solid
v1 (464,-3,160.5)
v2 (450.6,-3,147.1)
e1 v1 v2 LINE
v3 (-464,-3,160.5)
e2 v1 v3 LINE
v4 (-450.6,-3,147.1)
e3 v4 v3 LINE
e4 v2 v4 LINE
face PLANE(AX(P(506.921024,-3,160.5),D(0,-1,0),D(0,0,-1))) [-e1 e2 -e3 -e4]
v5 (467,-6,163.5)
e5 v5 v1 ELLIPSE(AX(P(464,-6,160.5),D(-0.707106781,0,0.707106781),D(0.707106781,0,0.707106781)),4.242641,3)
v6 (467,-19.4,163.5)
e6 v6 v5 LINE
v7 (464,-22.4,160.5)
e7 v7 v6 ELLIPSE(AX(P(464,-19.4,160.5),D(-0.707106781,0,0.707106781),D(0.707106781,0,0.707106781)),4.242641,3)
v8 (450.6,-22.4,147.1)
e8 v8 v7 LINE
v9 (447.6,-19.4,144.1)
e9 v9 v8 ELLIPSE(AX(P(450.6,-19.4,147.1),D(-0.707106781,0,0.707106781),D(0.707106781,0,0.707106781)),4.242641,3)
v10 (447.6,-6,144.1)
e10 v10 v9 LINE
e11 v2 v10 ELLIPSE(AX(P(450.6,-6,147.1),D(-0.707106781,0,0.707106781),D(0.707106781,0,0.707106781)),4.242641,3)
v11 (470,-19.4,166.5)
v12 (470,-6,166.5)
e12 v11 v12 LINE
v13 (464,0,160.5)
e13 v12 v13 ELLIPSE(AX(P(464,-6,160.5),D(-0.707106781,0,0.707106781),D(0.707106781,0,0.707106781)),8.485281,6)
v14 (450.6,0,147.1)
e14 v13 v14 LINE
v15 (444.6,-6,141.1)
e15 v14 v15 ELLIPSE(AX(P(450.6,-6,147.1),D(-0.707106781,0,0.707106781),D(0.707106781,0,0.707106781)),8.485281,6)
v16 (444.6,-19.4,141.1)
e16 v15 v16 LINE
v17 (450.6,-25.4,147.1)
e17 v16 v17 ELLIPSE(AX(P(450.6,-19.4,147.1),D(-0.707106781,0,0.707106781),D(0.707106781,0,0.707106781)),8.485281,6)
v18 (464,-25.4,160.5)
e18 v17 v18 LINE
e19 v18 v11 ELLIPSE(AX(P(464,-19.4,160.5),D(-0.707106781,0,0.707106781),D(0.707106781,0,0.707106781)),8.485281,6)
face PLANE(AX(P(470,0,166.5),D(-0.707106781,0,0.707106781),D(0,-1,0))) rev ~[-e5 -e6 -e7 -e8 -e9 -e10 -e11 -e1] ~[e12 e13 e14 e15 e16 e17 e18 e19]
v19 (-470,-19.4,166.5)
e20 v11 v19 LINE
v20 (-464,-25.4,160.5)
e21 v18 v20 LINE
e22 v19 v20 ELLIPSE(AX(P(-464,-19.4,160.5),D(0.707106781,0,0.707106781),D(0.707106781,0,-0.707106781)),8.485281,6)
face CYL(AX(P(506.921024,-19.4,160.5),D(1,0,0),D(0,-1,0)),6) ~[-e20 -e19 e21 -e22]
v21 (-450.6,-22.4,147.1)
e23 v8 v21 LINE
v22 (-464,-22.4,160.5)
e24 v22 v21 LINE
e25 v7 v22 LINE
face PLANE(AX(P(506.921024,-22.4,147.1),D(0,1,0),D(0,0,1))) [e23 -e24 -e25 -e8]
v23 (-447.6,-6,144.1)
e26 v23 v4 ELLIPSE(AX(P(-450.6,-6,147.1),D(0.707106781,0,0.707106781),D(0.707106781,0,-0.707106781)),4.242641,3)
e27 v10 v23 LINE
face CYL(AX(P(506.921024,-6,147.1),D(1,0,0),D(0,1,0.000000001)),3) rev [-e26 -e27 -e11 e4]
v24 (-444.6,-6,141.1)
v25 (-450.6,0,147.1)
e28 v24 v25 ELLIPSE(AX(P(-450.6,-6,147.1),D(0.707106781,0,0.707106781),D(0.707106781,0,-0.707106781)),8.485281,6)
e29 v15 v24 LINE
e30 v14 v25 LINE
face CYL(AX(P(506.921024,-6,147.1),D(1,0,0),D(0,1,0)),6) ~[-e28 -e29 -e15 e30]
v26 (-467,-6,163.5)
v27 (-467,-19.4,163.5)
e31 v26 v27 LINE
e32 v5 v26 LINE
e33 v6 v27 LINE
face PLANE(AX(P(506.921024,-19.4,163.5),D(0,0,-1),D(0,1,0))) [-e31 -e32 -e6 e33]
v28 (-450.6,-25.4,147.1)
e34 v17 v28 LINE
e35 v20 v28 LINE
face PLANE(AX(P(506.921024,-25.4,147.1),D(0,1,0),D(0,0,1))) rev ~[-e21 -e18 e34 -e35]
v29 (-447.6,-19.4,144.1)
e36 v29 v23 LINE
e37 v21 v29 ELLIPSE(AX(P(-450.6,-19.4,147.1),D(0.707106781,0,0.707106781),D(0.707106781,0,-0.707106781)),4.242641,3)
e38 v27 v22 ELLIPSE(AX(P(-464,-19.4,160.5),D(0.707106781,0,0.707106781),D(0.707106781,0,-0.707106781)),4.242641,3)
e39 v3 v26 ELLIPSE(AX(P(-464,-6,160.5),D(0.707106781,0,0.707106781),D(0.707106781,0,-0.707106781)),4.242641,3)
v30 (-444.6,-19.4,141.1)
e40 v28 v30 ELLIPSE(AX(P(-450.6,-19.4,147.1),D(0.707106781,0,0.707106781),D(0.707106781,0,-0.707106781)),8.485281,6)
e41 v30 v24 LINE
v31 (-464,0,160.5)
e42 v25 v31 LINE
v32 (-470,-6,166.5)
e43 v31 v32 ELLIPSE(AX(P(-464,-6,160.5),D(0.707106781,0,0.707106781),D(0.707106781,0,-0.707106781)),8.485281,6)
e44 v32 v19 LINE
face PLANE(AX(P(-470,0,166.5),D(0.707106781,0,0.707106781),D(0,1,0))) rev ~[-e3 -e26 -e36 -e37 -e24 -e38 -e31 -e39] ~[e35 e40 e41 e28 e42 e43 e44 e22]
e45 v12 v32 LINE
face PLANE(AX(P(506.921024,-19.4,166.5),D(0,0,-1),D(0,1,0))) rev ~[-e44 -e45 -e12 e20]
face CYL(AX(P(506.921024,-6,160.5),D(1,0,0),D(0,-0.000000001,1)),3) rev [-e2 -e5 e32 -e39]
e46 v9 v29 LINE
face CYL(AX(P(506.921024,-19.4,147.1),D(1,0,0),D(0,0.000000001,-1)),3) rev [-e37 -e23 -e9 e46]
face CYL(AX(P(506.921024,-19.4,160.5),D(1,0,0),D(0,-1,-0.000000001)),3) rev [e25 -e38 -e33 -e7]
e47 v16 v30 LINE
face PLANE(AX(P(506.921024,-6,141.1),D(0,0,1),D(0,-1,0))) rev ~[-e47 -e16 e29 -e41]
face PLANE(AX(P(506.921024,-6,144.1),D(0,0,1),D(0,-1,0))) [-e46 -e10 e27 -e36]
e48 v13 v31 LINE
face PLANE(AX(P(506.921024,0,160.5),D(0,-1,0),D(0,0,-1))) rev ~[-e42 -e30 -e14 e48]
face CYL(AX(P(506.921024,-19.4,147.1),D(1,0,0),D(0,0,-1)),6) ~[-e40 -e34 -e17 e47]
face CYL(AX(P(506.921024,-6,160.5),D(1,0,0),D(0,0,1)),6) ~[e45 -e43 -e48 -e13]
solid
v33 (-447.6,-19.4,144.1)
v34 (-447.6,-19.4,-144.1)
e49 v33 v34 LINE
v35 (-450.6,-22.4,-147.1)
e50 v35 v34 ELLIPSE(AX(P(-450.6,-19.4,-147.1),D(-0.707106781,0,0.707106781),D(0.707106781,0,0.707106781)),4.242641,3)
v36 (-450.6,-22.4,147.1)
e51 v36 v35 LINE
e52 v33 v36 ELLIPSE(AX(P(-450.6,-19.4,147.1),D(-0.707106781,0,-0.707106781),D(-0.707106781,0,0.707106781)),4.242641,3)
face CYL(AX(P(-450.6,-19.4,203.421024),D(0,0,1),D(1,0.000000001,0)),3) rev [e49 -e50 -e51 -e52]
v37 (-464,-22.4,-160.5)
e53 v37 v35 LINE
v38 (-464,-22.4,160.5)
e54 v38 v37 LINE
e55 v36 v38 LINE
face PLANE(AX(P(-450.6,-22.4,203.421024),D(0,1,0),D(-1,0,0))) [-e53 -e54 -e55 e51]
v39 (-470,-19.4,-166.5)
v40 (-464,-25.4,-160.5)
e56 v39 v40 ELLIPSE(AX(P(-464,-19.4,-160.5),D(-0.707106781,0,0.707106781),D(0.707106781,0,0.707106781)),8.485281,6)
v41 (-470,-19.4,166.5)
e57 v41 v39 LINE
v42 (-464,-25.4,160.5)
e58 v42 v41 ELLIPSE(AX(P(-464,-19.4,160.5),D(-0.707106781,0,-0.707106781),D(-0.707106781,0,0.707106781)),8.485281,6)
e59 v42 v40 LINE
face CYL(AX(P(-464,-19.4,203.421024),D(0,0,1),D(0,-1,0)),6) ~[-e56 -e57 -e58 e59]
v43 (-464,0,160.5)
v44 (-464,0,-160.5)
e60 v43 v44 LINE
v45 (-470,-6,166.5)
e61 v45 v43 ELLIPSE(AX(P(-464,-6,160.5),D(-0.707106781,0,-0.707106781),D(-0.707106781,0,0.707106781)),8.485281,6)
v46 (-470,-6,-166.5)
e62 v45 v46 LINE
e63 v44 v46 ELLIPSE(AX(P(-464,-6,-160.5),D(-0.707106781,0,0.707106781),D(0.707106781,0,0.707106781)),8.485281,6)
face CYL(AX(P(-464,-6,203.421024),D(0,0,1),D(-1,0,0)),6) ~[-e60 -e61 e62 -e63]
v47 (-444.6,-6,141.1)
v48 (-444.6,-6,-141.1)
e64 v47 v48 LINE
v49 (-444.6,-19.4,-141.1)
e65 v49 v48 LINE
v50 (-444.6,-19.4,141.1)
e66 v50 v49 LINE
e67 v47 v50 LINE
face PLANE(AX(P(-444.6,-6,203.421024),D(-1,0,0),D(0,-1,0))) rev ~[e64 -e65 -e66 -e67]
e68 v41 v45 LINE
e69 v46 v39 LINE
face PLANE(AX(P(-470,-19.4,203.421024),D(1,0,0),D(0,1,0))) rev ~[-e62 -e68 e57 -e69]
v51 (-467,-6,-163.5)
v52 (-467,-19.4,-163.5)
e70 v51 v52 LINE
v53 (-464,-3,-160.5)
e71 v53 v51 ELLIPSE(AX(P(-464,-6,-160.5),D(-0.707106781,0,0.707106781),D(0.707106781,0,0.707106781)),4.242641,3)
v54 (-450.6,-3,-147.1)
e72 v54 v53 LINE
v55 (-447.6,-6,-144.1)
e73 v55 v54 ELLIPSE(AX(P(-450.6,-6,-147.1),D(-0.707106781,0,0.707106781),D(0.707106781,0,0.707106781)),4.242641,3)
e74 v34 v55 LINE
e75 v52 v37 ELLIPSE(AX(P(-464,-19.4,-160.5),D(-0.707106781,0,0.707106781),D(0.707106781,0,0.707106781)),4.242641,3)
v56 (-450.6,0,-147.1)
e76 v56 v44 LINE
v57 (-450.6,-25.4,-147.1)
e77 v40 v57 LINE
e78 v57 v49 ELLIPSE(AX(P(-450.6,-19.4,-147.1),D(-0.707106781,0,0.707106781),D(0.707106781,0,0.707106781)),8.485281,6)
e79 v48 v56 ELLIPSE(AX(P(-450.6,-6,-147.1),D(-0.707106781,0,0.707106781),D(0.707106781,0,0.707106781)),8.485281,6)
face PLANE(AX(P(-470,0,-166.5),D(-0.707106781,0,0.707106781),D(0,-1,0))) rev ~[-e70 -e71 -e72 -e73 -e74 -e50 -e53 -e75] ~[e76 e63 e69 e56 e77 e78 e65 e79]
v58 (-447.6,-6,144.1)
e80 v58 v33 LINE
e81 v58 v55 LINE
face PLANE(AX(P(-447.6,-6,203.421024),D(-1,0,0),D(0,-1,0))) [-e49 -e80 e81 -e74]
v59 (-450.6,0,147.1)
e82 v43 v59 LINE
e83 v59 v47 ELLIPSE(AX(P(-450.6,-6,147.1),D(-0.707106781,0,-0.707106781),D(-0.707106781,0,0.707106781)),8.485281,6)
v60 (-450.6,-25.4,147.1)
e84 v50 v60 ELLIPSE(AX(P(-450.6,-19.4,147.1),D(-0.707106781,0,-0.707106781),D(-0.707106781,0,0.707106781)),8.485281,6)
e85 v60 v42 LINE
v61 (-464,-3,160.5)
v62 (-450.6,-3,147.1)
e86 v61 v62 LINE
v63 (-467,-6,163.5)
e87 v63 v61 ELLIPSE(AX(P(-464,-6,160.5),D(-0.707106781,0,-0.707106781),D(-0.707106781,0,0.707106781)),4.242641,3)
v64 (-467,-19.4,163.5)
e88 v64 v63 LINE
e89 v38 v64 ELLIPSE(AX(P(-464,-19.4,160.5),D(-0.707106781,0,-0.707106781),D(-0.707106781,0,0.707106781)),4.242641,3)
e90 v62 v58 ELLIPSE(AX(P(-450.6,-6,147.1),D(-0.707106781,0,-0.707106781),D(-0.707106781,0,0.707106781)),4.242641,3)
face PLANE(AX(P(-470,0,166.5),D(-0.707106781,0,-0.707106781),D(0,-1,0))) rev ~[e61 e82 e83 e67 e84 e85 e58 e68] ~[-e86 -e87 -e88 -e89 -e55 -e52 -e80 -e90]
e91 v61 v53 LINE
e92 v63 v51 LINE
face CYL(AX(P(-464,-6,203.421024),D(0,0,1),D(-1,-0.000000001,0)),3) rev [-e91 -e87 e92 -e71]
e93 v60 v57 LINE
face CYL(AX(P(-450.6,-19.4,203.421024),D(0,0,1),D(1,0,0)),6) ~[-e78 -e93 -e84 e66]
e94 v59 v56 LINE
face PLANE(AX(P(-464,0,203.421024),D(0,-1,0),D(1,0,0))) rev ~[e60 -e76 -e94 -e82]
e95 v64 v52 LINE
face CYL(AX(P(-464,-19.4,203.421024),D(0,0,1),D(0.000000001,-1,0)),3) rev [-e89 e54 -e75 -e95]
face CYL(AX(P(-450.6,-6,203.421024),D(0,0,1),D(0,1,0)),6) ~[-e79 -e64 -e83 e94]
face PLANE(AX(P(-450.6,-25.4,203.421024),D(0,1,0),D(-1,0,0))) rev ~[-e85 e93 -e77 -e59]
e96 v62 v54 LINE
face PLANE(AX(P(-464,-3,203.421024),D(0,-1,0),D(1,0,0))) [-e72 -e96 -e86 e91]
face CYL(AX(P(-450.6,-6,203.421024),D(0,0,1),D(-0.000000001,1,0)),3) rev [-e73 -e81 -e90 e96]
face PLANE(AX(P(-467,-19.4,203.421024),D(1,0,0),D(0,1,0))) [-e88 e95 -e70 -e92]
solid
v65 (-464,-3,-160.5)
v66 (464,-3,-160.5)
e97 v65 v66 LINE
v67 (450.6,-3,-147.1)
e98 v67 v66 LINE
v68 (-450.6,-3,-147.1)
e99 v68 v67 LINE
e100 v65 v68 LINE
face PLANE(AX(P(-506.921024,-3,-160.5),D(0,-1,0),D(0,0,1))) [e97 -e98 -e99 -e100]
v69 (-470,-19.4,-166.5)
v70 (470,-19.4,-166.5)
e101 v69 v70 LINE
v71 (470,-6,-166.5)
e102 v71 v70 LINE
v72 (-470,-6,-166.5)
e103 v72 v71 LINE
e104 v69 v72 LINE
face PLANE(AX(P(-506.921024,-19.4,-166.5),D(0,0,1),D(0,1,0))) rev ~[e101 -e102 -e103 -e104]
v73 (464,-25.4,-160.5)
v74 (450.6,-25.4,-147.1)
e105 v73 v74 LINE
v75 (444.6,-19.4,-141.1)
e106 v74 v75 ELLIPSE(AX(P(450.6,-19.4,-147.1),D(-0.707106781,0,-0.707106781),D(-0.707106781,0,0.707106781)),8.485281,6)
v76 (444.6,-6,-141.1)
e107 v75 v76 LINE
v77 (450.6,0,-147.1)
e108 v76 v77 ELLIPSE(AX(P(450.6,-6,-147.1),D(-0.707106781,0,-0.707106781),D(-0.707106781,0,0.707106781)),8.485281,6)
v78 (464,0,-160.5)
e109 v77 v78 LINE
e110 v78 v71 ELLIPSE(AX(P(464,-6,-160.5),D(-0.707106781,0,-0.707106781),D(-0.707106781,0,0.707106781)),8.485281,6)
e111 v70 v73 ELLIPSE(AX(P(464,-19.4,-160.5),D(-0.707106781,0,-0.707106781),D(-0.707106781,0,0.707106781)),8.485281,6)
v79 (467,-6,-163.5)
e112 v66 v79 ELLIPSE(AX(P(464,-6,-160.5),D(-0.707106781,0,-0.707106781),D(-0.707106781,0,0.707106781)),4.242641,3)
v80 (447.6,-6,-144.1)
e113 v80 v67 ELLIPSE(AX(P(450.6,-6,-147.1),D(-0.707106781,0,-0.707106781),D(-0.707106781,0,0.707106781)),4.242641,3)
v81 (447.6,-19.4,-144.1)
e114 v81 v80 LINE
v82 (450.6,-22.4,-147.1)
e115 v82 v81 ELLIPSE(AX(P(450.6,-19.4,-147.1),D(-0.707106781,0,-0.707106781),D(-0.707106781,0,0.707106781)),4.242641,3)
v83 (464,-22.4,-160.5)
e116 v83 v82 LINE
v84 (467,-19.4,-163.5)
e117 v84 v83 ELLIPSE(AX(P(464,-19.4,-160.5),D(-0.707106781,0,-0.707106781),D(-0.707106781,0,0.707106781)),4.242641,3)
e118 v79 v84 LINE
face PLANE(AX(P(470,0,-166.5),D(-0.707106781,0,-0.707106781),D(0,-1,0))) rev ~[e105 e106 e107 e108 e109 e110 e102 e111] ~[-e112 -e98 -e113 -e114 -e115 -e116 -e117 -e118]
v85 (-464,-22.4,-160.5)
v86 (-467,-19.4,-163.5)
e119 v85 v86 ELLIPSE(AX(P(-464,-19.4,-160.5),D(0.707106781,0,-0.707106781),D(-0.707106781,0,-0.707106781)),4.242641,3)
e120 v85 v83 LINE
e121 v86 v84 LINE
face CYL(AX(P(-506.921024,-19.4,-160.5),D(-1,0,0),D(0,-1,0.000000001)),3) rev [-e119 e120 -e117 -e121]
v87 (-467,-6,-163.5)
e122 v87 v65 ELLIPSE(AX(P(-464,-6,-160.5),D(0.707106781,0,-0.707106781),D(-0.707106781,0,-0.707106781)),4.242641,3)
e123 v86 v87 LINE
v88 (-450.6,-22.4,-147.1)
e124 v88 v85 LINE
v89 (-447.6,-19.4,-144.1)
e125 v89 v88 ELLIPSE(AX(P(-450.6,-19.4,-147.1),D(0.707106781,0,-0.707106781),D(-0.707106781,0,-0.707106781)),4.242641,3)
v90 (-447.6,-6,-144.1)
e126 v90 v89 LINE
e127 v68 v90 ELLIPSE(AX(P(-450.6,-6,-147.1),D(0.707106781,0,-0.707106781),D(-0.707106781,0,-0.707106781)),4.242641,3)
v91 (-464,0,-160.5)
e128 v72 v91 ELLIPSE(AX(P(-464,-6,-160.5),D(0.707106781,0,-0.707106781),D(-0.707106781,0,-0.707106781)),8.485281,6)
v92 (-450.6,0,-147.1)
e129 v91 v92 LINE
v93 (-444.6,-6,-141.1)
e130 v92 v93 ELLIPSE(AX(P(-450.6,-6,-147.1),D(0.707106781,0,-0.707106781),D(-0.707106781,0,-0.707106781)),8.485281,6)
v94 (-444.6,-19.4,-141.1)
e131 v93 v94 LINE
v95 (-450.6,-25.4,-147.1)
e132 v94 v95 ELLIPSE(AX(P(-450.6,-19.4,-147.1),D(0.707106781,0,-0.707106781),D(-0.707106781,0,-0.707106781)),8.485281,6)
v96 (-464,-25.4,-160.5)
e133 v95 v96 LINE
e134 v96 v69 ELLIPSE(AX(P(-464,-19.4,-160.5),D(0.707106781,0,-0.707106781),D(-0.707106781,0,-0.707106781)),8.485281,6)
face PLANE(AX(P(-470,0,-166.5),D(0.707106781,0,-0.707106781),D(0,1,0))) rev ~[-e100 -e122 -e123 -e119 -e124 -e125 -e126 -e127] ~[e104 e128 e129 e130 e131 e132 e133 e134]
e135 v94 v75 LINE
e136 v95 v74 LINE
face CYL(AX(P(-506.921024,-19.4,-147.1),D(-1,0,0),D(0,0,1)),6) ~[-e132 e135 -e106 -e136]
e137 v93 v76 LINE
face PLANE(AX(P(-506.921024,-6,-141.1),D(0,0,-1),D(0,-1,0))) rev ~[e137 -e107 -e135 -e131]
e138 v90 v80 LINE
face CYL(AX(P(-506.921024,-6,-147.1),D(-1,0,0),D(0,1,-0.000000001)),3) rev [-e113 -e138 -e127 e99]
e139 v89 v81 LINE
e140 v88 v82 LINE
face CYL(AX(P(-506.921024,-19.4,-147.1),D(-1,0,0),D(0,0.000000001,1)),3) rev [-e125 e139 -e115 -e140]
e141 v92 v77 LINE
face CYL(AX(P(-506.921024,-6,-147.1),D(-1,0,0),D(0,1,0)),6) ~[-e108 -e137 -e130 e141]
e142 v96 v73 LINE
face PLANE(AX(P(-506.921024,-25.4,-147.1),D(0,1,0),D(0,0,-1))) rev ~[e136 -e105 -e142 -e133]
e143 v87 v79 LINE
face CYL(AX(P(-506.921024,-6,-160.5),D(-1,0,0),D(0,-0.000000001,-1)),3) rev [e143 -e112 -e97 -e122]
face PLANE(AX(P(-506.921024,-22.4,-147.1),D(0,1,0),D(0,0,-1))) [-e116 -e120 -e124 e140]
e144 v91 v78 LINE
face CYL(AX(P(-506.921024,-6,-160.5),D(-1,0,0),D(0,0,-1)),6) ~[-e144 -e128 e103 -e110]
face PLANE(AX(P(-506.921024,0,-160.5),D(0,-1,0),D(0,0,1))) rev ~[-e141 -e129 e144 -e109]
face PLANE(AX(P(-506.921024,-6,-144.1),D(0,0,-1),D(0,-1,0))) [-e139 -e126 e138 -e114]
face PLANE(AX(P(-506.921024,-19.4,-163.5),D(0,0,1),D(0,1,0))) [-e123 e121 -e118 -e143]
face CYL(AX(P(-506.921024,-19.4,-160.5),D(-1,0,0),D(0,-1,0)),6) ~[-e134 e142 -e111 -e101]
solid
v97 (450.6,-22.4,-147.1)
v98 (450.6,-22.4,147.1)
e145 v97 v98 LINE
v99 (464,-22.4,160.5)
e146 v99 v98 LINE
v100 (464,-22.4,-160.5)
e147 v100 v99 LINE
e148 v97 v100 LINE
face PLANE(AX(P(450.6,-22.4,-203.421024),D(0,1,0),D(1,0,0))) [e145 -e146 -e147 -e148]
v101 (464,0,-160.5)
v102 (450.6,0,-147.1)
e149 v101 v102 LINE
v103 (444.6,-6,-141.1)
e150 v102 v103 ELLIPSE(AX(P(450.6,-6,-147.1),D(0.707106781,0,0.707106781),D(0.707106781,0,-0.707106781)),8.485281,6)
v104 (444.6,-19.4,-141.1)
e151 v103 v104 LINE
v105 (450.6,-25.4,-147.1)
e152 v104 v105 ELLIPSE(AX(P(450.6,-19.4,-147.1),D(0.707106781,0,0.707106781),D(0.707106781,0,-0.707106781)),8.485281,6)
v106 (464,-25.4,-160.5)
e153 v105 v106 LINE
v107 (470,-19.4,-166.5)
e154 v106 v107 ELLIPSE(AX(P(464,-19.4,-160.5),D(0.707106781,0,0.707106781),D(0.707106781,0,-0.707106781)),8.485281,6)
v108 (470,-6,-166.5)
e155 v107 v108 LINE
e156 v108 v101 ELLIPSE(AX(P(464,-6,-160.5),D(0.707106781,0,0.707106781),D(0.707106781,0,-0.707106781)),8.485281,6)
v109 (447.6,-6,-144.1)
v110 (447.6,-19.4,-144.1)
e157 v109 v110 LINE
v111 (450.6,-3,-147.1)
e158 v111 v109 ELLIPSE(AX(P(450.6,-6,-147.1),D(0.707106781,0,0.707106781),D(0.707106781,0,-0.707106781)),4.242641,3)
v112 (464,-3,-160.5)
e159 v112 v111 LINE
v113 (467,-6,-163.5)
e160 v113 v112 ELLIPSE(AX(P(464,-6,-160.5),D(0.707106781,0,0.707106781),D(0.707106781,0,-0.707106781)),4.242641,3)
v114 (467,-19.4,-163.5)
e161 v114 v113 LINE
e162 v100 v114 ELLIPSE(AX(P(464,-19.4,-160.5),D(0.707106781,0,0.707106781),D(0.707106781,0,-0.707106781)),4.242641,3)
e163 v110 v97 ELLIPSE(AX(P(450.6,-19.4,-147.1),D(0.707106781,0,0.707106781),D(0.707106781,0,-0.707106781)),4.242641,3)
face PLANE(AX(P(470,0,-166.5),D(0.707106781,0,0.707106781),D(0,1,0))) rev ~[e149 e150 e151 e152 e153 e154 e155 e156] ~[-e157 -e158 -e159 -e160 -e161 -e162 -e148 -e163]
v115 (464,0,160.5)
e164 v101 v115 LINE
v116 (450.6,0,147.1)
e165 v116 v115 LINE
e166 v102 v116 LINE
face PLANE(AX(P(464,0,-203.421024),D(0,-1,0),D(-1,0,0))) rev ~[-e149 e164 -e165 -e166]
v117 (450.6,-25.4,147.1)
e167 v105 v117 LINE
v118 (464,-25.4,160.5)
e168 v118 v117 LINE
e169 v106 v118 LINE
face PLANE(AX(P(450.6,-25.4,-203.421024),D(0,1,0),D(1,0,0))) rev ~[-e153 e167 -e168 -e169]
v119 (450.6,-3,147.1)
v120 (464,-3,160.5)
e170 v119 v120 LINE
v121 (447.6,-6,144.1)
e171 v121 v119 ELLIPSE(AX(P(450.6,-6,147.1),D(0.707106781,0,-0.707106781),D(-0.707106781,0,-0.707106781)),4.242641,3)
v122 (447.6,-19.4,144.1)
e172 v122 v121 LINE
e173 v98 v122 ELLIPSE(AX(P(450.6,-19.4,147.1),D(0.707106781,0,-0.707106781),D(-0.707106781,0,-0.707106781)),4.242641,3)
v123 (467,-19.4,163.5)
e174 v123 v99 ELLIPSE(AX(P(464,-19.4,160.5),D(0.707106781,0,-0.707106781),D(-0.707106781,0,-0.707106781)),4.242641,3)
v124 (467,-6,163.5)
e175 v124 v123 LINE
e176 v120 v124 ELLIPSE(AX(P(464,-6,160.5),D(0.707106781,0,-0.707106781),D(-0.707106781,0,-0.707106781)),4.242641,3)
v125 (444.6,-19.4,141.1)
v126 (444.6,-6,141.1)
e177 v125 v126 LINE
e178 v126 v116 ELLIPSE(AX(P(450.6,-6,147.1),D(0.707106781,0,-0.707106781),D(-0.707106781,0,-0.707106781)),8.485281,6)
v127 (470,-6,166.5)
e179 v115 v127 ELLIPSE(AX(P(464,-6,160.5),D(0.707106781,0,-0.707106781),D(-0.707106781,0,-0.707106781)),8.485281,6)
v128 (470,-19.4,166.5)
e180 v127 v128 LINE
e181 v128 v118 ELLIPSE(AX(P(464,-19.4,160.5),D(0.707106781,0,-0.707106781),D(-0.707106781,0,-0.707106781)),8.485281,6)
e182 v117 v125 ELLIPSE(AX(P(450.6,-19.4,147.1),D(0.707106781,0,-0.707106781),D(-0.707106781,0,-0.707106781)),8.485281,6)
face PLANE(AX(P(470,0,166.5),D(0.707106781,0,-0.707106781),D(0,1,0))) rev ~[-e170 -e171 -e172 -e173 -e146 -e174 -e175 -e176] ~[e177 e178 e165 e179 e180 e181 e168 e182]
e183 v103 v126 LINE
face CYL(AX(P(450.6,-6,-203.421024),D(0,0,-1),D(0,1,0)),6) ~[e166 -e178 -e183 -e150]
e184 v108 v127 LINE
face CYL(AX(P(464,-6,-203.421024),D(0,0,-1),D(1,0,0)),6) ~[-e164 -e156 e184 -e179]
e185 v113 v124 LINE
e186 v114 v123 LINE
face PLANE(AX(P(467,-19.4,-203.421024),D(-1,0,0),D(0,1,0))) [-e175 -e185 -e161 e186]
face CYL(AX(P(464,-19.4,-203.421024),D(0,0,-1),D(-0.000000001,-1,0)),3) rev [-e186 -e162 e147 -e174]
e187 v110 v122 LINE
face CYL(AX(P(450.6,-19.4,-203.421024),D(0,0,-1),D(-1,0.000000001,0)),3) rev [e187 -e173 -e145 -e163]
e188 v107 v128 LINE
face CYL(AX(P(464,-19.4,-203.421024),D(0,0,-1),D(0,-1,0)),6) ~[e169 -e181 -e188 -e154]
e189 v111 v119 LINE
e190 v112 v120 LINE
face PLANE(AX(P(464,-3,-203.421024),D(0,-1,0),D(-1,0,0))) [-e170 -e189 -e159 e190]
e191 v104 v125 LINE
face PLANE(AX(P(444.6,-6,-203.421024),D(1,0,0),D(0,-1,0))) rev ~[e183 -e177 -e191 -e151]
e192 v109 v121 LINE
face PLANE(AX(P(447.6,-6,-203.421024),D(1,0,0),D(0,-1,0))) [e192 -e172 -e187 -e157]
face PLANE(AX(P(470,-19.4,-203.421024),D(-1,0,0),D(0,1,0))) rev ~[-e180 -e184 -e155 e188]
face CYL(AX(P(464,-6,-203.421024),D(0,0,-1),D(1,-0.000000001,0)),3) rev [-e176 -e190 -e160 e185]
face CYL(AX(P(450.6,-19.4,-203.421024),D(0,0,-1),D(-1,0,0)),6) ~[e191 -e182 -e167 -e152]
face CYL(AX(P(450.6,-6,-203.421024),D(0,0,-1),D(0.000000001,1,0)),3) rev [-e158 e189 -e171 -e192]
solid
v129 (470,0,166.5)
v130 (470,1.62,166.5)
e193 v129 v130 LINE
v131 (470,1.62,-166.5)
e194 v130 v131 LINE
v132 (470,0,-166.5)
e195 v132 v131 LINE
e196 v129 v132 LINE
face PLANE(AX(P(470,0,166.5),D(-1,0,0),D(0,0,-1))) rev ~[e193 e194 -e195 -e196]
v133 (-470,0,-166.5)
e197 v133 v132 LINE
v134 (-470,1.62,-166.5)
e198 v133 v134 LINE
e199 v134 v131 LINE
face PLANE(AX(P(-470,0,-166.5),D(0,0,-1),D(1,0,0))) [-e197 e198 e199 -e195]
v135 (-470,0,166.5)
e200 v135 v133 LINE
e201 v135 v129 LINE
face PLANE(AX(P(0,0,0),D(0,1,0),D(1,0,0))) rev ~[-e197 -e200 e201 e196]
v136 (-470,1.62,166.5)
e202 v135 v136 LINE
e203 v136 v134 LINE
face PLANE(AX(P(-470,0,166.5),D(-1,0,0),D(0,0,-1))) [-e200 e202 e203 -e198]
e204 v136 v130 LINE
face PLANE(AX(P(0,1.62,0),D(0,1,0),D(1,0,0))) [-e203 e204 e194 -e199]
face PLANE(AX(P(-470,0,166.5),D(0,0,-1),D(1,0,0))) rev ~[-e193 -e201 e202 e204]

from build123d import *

# Parameters (mm, degrees)
TUBO_CUADRADO_2_X_2_X_0_25_1_DEPTH      = 369.921024484
TUBO_CUADRADO_2_X_2_X_0_25_1_DEPTH_BACK = 36.921024484
TUBO_CUADRADO_2_X_2_X_0_25_1_2_DEPTH    = 1013.842048969
TUBO_CUADRADO_2_X_2_X_0_25_1_3_DEPTH    = 406.842048969
TUBO_CUADRADO_2_X_2_X_0_25_1_4_DEPTH    = 1013.842048969
CROQUIS3_W                              = 940
CROQUIS3_H                              = 333
SALIENTE_EXTRUIR2_DEPTH                 = 1.62


with BuildPart() as part:
    # Sketch1 → Tubo cuadrado 2 X 2 X 0.25(1) (new, two sides: drawn at the far end of the back side and taken through both)
    with BuildSketch(Plane(origin=(457.3, -12.7, -166.5), x_dir=(1, 0, 0), z_dir=(0, 0, 1)).offset(-TUBO_CUADRADO_2_X_2_X_0_25_1_DEPTH_BACK)):
        with BuildLine():
            Line((-6.7, -12.7), (6.7, -12.7))
            ThreePointArc((6.7, -12.7), (10.942640687, -10.942640687), (12.7, -6.7))
            Line((12.7, -6.7), (12.7, 6.7))
            ThreePointArc((12.7, 6.7), (10.942640687, 10.942640687), (6.7, 12.7))
            Line((6.7, 12.7), (-6.7, 12.7))
            ThreePointArc((-6.7, 12.7), (-10.942640687, 10.942640687), (-12.7, 6.7))
            Line((-12.7, 6.7), (-12.7, -6.7))
            ThreePointArc((-12.7, -6.7), (-10.942640687, -10.942640687), (-6.7, -12.7))
        make_face()
        with BuildLine():
            Line((-6.7, -9.7), (6.7, -9.7))
            ThreePointArc((6.7, -9.7), (8.821320344, -8.821320344), (9.7, -6.7))
            Line((9.7, -6.7), (9.7, 6.7))
            ThreePointArc((9.7, 6.7), (8.821320344, 8.821320344), (6.7, 9.7))
            Line((6.7, 9.7), (-6.7, 9.7))
            ThreePointArc((-6.7, 9.7), (-8.821320344, 8.821320344), (-9.7, 6.7))
            Line((-9.7, 6.7), (-9.7, -6.7))
            ThreePointArc((-9.7, -6.7), (-8.821320344, -8.821320344), (-6.7, -9.7))
        make_face(mode=Mode.SUBTRACT)
    extrude(amount=TUBO_CUADRADO_2_X_2_X_0_25_1_DEPTH + TUBO_CUADRADO_2_X_2_X_0_25_1_DEPTH_BACK)

    # Tubo cuadrado 2 X 2 X 0.25(1) mitre 1
    split(bisect_by=Plane(origin=(470, 0, -166.5), x_dir=(0, 1, 0), z_dir=(0.707106781, 0, 0.707106781)), keep=Keep.TOP)

    # Tubo cuadrado 2 X 2 X 0.25(1) mitre 2
    split(bisect_by=Plane(origin=(470, 0, 166.5), x_dir=(0, 1, 0), z_dir=(0.707106781, 0, -0.707106781)), keep=Keep.TOP)


with BuildPart() as body_2:
    # Sketch1 on segment 2 (carried to segment 2) → Tubo cuadrado 2 X 2 X 0.25_1 2 (new body)
    with BuildSketch(Plane(origin=(506.921024484, -12.7, 153.8), x_dir=(0, 0, 1), z_dir=(-1, 0, 0))):
        with BuildLine():
            Line((-6.7, -12.7), (6.7, -12.7))
            ThreePointArc((6.7, -12.7), (10.942640687, -10.942640687), (12.7, -6.7))
            Line((12.7, -6.7), (12.7, 6.7))
            ThreePointArc((12.7, 6.7), (10.942640687, 10.942640687), (6.7, 12.7))
            Line((6.7, 12.7), (-6.7, 12.7))
            ThreePointArc((-6.7, 12.7), (-10.942640687, 10.942640687), (-12.7, 6.7))
            Line((-12.7, 6.7), (-12.7, -6.7))
            ThreePointArc((-12.7, -6.7), (-10.942640687, -10.942640687), (-6.7, -12.7))
        make_face()
        with BuildLine():
            Line((-6.7, -9.7), (6.7, -9.7))
            ThreePointArc((6.7, -9.7), (8.821320344, -8.821320344), (9.7, -6.7))
            Line((9.7, -6.7), (9.7, 6.7))
            ThreePointArc((9.7, 6.7), (8.821320344, 8.821320344), (6.7, 9.7))
            Line((6.7, 9.7), (-6.7, 9.7))
            ThreePointArc((-6.7, 9.7), (-8.821320344, 8.821320344), (-9.7, 6.7))
            Line((-9.7, 6.7), (-9.7, -6.7))
            ThreePointArc((-9.7, -6.7), (-8.821320344, -8.821320344), (-6.7, -9.7))
        make_face(mode=Mode.SUBTRACT)
    extrude(amount=TUBO_CUADRADO_2_X_2_X_0_25_1_2_DEPTH)

    # Tubo cuadrado 2 X 2 X 0.25_1 2 mitre 1
    split(bisect_by=Plane(origin=(-470, 0, 166.5), x_dir=(0, 1, 0), z_dir=(0.707106781, 0, 0.707106781)), keep=Keep.TOP)

    # Tubo cuadrado 2 X 2 X 0.25_1 2 mitre 2
    split(bisect_by=Plane(origin=(470, 0, 166.5), x_dir=(0, -1, 0), z_dir=(-0.707106781, 0, 0.707106781)), keep=Keep.TOP)


with BuildPart() as body_3:
    # Sketch1 on segment 3 (carried to segment 3) → Tubo cuadrado 2 X 2 X 0.25_1 3 (new body)
    with BuildSketch(Plane(origin=(-457.3, -12.7, 203.421024484), x_dir=(-1, 0, 0), z_dir=(0, 0, -1))):
        with BuildLine():
            Line((-6.7, -12.7), (6.7, -12.7))
            ThreePointArc((6.7, -12.7), (10.942640687, -10.942640687), (12.7, -6.7))
            Line((12.7, -6.7), (12.7, 6.7))
            ThreePointArc((12.7, 6.7), (10.942640687, 10.942640687), (6.7, 12.7))
            Line((6.7, 12.7), (-6.7, 12.7))
            ThreePointArc((-6.7, 12.7), (-10.942640687, 10.942640687), (-12.7, 6.7))
            Line((-12.7, 6.7), (-12.7, -6.7))
            ThreePointArc((-12.7, -6.7), (-10.942640687, -10.942640687), (-6.7, -12.7))
        make_face()
        with BuildLine():
            Line((-6.7, -9.7), (6.7, -9.7))
            ThreePointArc((6.7, -9.7), (8.821320344, -8.821320344), (9.7, -6.7))
            Line((9.7, -6.7), (9.7, 6.7))
            ThreePointArc((9.7, 6.7), (8.821320344, 8.821320344), (6.7, 9.7))
            Line((6.7, 9.7), (-6.7, 9.7))
            ThreePointArc((-6.7, 9.7), (-8.821320344, 8.821320344), (-9.7, 6.7))
            Line((-9.7, 6.7), (-9.7, -6.7))
            ThreePointArc((-9.7, -6.7), (-8.821320344, -8.821320344), (-6.7, -9.7))
        make_face(mode=Mode.SUBTRACT)
    extrude(amount=TUBO_CUADRADO_2_X_2_X_0_25_1_3_DEPTH)

    # Tubo cuadrado 2 X 2 X 0.25_1 3 mitre 1
    split(bisect_by=Plane(origin=(-470, 0, -166.5), x_dir=(0, -1, 0), z_dir=(-0.707106781, 0, 0.707106781)), keep=Keep.TOP)

    # Tubo cuadrado 2 X 2 X 0.25_1 3 mitre 2
    split(bisect_by=Plane(origin=(-470, 0, 166.5), x_dir=(0, -1, 0), z_dir=(-0.707106781, 0, -0.707106781)), keep=Keep.TOP)


with BuildPart() as body_4:
    # Sketch1 on segment 4 (carried to segment 4) → Tubo cuadrado 2 X 2 X 0.25_1 4 (new body)
    with BuildSketch(Plane(origin=(-506.921024484, -12.7, -153.8), x_dir=(0, 0, -1), z_dir=(1, 0, 0))):
        with BuildLine():
            Line((-6.7, -12.7), (6.7, -12.7))
            ThreePointArc((6.7, -12.7), (10.942640687, -10.942640687), (12.7, -6.7))
            Line((12.7, -6.7), (12.7, 6.7))
            ThreePointArc((12.7, 6.7), (10.942640687, 10.942640687), (6.7, 12.7))
            Line((6.7, 12.7), (-6.7, 12.7))
            ThreePointArc((-6.7, 12.7), (-10.942640687, 10.942640687), (-12.7, 6.7))
            Line((-12.7, 6.7), (-12.7, -6.7))
            ThreePointArc((-12.7, -6.7), (-10.942640687, -10.942640687), (-6.7, -12.7))
        make_face()
        with BuildLine():
            Line((-6.7, -9.7), (6.7, -9.7))
            ThreePointArc((6.7, -9.7), (8.821320344, -8.821320344), (9.7, -6.7))
            Line((9.7, -6.7), (9.7, 6.7))
            ThreePointArc((9.7, 6.7), (8.821320344, 8.821320344), (6.7, 9.7))
            Line((6.7, 9.7), (-6.7, 9.7))
            ThreePointArc((-6.7, 9.7), (-8.821320344, 8.821320344), (-9.7, 6.7))
            Line((-9.7, 6.7), (-9.7, -6.7))
            ThreePointArc((-9.7, -6.7), (-8.821320344, -8.821320344), (-6.7, -9.7))
        make_face(mode=Mode.SUBTRACT)
    extrude(amount=TUBO_CUADRADO_2_X_2_X_0_25_1_4_DEPTH)

    # Tubo cuadrado 2 X 2 X 0.25_1 4 mitre 1
    split(bisect_by=Plane(origin=(-470, 0, -166.5), x_dir=(0, 1, 0), z_dir=(0.707106781, 0, -0.707106781)), keep=Keep.TOP)

    # Tubo cuadrado 2 X 2 X 0.25_1 4 mitre 2
    split(bisect_by=Plane(origin=(470, 0, -166.5), x_dir=(0, -1, 0), z_dir=(-0.707106781, 0, -0.707106781)), keep=Keep.TOP)


with BuildPart() as body_5:
    # Croquis3 → Saliente-Extruir2 (new body)
    with BuildSketch(Plane(origin=(0, 0, 0), x_dir=(1, 0, 0), z_dir=(0, 1, 0))):
        Rectangle(CROQUIS3_W, CROQUIS3_H)
    extrude(amount=SALIENTE_EXTRUIR2_DEPTH)


solid = Compound([part.part, body_2.part, body_3.part, body_4.part, body_5.part])
